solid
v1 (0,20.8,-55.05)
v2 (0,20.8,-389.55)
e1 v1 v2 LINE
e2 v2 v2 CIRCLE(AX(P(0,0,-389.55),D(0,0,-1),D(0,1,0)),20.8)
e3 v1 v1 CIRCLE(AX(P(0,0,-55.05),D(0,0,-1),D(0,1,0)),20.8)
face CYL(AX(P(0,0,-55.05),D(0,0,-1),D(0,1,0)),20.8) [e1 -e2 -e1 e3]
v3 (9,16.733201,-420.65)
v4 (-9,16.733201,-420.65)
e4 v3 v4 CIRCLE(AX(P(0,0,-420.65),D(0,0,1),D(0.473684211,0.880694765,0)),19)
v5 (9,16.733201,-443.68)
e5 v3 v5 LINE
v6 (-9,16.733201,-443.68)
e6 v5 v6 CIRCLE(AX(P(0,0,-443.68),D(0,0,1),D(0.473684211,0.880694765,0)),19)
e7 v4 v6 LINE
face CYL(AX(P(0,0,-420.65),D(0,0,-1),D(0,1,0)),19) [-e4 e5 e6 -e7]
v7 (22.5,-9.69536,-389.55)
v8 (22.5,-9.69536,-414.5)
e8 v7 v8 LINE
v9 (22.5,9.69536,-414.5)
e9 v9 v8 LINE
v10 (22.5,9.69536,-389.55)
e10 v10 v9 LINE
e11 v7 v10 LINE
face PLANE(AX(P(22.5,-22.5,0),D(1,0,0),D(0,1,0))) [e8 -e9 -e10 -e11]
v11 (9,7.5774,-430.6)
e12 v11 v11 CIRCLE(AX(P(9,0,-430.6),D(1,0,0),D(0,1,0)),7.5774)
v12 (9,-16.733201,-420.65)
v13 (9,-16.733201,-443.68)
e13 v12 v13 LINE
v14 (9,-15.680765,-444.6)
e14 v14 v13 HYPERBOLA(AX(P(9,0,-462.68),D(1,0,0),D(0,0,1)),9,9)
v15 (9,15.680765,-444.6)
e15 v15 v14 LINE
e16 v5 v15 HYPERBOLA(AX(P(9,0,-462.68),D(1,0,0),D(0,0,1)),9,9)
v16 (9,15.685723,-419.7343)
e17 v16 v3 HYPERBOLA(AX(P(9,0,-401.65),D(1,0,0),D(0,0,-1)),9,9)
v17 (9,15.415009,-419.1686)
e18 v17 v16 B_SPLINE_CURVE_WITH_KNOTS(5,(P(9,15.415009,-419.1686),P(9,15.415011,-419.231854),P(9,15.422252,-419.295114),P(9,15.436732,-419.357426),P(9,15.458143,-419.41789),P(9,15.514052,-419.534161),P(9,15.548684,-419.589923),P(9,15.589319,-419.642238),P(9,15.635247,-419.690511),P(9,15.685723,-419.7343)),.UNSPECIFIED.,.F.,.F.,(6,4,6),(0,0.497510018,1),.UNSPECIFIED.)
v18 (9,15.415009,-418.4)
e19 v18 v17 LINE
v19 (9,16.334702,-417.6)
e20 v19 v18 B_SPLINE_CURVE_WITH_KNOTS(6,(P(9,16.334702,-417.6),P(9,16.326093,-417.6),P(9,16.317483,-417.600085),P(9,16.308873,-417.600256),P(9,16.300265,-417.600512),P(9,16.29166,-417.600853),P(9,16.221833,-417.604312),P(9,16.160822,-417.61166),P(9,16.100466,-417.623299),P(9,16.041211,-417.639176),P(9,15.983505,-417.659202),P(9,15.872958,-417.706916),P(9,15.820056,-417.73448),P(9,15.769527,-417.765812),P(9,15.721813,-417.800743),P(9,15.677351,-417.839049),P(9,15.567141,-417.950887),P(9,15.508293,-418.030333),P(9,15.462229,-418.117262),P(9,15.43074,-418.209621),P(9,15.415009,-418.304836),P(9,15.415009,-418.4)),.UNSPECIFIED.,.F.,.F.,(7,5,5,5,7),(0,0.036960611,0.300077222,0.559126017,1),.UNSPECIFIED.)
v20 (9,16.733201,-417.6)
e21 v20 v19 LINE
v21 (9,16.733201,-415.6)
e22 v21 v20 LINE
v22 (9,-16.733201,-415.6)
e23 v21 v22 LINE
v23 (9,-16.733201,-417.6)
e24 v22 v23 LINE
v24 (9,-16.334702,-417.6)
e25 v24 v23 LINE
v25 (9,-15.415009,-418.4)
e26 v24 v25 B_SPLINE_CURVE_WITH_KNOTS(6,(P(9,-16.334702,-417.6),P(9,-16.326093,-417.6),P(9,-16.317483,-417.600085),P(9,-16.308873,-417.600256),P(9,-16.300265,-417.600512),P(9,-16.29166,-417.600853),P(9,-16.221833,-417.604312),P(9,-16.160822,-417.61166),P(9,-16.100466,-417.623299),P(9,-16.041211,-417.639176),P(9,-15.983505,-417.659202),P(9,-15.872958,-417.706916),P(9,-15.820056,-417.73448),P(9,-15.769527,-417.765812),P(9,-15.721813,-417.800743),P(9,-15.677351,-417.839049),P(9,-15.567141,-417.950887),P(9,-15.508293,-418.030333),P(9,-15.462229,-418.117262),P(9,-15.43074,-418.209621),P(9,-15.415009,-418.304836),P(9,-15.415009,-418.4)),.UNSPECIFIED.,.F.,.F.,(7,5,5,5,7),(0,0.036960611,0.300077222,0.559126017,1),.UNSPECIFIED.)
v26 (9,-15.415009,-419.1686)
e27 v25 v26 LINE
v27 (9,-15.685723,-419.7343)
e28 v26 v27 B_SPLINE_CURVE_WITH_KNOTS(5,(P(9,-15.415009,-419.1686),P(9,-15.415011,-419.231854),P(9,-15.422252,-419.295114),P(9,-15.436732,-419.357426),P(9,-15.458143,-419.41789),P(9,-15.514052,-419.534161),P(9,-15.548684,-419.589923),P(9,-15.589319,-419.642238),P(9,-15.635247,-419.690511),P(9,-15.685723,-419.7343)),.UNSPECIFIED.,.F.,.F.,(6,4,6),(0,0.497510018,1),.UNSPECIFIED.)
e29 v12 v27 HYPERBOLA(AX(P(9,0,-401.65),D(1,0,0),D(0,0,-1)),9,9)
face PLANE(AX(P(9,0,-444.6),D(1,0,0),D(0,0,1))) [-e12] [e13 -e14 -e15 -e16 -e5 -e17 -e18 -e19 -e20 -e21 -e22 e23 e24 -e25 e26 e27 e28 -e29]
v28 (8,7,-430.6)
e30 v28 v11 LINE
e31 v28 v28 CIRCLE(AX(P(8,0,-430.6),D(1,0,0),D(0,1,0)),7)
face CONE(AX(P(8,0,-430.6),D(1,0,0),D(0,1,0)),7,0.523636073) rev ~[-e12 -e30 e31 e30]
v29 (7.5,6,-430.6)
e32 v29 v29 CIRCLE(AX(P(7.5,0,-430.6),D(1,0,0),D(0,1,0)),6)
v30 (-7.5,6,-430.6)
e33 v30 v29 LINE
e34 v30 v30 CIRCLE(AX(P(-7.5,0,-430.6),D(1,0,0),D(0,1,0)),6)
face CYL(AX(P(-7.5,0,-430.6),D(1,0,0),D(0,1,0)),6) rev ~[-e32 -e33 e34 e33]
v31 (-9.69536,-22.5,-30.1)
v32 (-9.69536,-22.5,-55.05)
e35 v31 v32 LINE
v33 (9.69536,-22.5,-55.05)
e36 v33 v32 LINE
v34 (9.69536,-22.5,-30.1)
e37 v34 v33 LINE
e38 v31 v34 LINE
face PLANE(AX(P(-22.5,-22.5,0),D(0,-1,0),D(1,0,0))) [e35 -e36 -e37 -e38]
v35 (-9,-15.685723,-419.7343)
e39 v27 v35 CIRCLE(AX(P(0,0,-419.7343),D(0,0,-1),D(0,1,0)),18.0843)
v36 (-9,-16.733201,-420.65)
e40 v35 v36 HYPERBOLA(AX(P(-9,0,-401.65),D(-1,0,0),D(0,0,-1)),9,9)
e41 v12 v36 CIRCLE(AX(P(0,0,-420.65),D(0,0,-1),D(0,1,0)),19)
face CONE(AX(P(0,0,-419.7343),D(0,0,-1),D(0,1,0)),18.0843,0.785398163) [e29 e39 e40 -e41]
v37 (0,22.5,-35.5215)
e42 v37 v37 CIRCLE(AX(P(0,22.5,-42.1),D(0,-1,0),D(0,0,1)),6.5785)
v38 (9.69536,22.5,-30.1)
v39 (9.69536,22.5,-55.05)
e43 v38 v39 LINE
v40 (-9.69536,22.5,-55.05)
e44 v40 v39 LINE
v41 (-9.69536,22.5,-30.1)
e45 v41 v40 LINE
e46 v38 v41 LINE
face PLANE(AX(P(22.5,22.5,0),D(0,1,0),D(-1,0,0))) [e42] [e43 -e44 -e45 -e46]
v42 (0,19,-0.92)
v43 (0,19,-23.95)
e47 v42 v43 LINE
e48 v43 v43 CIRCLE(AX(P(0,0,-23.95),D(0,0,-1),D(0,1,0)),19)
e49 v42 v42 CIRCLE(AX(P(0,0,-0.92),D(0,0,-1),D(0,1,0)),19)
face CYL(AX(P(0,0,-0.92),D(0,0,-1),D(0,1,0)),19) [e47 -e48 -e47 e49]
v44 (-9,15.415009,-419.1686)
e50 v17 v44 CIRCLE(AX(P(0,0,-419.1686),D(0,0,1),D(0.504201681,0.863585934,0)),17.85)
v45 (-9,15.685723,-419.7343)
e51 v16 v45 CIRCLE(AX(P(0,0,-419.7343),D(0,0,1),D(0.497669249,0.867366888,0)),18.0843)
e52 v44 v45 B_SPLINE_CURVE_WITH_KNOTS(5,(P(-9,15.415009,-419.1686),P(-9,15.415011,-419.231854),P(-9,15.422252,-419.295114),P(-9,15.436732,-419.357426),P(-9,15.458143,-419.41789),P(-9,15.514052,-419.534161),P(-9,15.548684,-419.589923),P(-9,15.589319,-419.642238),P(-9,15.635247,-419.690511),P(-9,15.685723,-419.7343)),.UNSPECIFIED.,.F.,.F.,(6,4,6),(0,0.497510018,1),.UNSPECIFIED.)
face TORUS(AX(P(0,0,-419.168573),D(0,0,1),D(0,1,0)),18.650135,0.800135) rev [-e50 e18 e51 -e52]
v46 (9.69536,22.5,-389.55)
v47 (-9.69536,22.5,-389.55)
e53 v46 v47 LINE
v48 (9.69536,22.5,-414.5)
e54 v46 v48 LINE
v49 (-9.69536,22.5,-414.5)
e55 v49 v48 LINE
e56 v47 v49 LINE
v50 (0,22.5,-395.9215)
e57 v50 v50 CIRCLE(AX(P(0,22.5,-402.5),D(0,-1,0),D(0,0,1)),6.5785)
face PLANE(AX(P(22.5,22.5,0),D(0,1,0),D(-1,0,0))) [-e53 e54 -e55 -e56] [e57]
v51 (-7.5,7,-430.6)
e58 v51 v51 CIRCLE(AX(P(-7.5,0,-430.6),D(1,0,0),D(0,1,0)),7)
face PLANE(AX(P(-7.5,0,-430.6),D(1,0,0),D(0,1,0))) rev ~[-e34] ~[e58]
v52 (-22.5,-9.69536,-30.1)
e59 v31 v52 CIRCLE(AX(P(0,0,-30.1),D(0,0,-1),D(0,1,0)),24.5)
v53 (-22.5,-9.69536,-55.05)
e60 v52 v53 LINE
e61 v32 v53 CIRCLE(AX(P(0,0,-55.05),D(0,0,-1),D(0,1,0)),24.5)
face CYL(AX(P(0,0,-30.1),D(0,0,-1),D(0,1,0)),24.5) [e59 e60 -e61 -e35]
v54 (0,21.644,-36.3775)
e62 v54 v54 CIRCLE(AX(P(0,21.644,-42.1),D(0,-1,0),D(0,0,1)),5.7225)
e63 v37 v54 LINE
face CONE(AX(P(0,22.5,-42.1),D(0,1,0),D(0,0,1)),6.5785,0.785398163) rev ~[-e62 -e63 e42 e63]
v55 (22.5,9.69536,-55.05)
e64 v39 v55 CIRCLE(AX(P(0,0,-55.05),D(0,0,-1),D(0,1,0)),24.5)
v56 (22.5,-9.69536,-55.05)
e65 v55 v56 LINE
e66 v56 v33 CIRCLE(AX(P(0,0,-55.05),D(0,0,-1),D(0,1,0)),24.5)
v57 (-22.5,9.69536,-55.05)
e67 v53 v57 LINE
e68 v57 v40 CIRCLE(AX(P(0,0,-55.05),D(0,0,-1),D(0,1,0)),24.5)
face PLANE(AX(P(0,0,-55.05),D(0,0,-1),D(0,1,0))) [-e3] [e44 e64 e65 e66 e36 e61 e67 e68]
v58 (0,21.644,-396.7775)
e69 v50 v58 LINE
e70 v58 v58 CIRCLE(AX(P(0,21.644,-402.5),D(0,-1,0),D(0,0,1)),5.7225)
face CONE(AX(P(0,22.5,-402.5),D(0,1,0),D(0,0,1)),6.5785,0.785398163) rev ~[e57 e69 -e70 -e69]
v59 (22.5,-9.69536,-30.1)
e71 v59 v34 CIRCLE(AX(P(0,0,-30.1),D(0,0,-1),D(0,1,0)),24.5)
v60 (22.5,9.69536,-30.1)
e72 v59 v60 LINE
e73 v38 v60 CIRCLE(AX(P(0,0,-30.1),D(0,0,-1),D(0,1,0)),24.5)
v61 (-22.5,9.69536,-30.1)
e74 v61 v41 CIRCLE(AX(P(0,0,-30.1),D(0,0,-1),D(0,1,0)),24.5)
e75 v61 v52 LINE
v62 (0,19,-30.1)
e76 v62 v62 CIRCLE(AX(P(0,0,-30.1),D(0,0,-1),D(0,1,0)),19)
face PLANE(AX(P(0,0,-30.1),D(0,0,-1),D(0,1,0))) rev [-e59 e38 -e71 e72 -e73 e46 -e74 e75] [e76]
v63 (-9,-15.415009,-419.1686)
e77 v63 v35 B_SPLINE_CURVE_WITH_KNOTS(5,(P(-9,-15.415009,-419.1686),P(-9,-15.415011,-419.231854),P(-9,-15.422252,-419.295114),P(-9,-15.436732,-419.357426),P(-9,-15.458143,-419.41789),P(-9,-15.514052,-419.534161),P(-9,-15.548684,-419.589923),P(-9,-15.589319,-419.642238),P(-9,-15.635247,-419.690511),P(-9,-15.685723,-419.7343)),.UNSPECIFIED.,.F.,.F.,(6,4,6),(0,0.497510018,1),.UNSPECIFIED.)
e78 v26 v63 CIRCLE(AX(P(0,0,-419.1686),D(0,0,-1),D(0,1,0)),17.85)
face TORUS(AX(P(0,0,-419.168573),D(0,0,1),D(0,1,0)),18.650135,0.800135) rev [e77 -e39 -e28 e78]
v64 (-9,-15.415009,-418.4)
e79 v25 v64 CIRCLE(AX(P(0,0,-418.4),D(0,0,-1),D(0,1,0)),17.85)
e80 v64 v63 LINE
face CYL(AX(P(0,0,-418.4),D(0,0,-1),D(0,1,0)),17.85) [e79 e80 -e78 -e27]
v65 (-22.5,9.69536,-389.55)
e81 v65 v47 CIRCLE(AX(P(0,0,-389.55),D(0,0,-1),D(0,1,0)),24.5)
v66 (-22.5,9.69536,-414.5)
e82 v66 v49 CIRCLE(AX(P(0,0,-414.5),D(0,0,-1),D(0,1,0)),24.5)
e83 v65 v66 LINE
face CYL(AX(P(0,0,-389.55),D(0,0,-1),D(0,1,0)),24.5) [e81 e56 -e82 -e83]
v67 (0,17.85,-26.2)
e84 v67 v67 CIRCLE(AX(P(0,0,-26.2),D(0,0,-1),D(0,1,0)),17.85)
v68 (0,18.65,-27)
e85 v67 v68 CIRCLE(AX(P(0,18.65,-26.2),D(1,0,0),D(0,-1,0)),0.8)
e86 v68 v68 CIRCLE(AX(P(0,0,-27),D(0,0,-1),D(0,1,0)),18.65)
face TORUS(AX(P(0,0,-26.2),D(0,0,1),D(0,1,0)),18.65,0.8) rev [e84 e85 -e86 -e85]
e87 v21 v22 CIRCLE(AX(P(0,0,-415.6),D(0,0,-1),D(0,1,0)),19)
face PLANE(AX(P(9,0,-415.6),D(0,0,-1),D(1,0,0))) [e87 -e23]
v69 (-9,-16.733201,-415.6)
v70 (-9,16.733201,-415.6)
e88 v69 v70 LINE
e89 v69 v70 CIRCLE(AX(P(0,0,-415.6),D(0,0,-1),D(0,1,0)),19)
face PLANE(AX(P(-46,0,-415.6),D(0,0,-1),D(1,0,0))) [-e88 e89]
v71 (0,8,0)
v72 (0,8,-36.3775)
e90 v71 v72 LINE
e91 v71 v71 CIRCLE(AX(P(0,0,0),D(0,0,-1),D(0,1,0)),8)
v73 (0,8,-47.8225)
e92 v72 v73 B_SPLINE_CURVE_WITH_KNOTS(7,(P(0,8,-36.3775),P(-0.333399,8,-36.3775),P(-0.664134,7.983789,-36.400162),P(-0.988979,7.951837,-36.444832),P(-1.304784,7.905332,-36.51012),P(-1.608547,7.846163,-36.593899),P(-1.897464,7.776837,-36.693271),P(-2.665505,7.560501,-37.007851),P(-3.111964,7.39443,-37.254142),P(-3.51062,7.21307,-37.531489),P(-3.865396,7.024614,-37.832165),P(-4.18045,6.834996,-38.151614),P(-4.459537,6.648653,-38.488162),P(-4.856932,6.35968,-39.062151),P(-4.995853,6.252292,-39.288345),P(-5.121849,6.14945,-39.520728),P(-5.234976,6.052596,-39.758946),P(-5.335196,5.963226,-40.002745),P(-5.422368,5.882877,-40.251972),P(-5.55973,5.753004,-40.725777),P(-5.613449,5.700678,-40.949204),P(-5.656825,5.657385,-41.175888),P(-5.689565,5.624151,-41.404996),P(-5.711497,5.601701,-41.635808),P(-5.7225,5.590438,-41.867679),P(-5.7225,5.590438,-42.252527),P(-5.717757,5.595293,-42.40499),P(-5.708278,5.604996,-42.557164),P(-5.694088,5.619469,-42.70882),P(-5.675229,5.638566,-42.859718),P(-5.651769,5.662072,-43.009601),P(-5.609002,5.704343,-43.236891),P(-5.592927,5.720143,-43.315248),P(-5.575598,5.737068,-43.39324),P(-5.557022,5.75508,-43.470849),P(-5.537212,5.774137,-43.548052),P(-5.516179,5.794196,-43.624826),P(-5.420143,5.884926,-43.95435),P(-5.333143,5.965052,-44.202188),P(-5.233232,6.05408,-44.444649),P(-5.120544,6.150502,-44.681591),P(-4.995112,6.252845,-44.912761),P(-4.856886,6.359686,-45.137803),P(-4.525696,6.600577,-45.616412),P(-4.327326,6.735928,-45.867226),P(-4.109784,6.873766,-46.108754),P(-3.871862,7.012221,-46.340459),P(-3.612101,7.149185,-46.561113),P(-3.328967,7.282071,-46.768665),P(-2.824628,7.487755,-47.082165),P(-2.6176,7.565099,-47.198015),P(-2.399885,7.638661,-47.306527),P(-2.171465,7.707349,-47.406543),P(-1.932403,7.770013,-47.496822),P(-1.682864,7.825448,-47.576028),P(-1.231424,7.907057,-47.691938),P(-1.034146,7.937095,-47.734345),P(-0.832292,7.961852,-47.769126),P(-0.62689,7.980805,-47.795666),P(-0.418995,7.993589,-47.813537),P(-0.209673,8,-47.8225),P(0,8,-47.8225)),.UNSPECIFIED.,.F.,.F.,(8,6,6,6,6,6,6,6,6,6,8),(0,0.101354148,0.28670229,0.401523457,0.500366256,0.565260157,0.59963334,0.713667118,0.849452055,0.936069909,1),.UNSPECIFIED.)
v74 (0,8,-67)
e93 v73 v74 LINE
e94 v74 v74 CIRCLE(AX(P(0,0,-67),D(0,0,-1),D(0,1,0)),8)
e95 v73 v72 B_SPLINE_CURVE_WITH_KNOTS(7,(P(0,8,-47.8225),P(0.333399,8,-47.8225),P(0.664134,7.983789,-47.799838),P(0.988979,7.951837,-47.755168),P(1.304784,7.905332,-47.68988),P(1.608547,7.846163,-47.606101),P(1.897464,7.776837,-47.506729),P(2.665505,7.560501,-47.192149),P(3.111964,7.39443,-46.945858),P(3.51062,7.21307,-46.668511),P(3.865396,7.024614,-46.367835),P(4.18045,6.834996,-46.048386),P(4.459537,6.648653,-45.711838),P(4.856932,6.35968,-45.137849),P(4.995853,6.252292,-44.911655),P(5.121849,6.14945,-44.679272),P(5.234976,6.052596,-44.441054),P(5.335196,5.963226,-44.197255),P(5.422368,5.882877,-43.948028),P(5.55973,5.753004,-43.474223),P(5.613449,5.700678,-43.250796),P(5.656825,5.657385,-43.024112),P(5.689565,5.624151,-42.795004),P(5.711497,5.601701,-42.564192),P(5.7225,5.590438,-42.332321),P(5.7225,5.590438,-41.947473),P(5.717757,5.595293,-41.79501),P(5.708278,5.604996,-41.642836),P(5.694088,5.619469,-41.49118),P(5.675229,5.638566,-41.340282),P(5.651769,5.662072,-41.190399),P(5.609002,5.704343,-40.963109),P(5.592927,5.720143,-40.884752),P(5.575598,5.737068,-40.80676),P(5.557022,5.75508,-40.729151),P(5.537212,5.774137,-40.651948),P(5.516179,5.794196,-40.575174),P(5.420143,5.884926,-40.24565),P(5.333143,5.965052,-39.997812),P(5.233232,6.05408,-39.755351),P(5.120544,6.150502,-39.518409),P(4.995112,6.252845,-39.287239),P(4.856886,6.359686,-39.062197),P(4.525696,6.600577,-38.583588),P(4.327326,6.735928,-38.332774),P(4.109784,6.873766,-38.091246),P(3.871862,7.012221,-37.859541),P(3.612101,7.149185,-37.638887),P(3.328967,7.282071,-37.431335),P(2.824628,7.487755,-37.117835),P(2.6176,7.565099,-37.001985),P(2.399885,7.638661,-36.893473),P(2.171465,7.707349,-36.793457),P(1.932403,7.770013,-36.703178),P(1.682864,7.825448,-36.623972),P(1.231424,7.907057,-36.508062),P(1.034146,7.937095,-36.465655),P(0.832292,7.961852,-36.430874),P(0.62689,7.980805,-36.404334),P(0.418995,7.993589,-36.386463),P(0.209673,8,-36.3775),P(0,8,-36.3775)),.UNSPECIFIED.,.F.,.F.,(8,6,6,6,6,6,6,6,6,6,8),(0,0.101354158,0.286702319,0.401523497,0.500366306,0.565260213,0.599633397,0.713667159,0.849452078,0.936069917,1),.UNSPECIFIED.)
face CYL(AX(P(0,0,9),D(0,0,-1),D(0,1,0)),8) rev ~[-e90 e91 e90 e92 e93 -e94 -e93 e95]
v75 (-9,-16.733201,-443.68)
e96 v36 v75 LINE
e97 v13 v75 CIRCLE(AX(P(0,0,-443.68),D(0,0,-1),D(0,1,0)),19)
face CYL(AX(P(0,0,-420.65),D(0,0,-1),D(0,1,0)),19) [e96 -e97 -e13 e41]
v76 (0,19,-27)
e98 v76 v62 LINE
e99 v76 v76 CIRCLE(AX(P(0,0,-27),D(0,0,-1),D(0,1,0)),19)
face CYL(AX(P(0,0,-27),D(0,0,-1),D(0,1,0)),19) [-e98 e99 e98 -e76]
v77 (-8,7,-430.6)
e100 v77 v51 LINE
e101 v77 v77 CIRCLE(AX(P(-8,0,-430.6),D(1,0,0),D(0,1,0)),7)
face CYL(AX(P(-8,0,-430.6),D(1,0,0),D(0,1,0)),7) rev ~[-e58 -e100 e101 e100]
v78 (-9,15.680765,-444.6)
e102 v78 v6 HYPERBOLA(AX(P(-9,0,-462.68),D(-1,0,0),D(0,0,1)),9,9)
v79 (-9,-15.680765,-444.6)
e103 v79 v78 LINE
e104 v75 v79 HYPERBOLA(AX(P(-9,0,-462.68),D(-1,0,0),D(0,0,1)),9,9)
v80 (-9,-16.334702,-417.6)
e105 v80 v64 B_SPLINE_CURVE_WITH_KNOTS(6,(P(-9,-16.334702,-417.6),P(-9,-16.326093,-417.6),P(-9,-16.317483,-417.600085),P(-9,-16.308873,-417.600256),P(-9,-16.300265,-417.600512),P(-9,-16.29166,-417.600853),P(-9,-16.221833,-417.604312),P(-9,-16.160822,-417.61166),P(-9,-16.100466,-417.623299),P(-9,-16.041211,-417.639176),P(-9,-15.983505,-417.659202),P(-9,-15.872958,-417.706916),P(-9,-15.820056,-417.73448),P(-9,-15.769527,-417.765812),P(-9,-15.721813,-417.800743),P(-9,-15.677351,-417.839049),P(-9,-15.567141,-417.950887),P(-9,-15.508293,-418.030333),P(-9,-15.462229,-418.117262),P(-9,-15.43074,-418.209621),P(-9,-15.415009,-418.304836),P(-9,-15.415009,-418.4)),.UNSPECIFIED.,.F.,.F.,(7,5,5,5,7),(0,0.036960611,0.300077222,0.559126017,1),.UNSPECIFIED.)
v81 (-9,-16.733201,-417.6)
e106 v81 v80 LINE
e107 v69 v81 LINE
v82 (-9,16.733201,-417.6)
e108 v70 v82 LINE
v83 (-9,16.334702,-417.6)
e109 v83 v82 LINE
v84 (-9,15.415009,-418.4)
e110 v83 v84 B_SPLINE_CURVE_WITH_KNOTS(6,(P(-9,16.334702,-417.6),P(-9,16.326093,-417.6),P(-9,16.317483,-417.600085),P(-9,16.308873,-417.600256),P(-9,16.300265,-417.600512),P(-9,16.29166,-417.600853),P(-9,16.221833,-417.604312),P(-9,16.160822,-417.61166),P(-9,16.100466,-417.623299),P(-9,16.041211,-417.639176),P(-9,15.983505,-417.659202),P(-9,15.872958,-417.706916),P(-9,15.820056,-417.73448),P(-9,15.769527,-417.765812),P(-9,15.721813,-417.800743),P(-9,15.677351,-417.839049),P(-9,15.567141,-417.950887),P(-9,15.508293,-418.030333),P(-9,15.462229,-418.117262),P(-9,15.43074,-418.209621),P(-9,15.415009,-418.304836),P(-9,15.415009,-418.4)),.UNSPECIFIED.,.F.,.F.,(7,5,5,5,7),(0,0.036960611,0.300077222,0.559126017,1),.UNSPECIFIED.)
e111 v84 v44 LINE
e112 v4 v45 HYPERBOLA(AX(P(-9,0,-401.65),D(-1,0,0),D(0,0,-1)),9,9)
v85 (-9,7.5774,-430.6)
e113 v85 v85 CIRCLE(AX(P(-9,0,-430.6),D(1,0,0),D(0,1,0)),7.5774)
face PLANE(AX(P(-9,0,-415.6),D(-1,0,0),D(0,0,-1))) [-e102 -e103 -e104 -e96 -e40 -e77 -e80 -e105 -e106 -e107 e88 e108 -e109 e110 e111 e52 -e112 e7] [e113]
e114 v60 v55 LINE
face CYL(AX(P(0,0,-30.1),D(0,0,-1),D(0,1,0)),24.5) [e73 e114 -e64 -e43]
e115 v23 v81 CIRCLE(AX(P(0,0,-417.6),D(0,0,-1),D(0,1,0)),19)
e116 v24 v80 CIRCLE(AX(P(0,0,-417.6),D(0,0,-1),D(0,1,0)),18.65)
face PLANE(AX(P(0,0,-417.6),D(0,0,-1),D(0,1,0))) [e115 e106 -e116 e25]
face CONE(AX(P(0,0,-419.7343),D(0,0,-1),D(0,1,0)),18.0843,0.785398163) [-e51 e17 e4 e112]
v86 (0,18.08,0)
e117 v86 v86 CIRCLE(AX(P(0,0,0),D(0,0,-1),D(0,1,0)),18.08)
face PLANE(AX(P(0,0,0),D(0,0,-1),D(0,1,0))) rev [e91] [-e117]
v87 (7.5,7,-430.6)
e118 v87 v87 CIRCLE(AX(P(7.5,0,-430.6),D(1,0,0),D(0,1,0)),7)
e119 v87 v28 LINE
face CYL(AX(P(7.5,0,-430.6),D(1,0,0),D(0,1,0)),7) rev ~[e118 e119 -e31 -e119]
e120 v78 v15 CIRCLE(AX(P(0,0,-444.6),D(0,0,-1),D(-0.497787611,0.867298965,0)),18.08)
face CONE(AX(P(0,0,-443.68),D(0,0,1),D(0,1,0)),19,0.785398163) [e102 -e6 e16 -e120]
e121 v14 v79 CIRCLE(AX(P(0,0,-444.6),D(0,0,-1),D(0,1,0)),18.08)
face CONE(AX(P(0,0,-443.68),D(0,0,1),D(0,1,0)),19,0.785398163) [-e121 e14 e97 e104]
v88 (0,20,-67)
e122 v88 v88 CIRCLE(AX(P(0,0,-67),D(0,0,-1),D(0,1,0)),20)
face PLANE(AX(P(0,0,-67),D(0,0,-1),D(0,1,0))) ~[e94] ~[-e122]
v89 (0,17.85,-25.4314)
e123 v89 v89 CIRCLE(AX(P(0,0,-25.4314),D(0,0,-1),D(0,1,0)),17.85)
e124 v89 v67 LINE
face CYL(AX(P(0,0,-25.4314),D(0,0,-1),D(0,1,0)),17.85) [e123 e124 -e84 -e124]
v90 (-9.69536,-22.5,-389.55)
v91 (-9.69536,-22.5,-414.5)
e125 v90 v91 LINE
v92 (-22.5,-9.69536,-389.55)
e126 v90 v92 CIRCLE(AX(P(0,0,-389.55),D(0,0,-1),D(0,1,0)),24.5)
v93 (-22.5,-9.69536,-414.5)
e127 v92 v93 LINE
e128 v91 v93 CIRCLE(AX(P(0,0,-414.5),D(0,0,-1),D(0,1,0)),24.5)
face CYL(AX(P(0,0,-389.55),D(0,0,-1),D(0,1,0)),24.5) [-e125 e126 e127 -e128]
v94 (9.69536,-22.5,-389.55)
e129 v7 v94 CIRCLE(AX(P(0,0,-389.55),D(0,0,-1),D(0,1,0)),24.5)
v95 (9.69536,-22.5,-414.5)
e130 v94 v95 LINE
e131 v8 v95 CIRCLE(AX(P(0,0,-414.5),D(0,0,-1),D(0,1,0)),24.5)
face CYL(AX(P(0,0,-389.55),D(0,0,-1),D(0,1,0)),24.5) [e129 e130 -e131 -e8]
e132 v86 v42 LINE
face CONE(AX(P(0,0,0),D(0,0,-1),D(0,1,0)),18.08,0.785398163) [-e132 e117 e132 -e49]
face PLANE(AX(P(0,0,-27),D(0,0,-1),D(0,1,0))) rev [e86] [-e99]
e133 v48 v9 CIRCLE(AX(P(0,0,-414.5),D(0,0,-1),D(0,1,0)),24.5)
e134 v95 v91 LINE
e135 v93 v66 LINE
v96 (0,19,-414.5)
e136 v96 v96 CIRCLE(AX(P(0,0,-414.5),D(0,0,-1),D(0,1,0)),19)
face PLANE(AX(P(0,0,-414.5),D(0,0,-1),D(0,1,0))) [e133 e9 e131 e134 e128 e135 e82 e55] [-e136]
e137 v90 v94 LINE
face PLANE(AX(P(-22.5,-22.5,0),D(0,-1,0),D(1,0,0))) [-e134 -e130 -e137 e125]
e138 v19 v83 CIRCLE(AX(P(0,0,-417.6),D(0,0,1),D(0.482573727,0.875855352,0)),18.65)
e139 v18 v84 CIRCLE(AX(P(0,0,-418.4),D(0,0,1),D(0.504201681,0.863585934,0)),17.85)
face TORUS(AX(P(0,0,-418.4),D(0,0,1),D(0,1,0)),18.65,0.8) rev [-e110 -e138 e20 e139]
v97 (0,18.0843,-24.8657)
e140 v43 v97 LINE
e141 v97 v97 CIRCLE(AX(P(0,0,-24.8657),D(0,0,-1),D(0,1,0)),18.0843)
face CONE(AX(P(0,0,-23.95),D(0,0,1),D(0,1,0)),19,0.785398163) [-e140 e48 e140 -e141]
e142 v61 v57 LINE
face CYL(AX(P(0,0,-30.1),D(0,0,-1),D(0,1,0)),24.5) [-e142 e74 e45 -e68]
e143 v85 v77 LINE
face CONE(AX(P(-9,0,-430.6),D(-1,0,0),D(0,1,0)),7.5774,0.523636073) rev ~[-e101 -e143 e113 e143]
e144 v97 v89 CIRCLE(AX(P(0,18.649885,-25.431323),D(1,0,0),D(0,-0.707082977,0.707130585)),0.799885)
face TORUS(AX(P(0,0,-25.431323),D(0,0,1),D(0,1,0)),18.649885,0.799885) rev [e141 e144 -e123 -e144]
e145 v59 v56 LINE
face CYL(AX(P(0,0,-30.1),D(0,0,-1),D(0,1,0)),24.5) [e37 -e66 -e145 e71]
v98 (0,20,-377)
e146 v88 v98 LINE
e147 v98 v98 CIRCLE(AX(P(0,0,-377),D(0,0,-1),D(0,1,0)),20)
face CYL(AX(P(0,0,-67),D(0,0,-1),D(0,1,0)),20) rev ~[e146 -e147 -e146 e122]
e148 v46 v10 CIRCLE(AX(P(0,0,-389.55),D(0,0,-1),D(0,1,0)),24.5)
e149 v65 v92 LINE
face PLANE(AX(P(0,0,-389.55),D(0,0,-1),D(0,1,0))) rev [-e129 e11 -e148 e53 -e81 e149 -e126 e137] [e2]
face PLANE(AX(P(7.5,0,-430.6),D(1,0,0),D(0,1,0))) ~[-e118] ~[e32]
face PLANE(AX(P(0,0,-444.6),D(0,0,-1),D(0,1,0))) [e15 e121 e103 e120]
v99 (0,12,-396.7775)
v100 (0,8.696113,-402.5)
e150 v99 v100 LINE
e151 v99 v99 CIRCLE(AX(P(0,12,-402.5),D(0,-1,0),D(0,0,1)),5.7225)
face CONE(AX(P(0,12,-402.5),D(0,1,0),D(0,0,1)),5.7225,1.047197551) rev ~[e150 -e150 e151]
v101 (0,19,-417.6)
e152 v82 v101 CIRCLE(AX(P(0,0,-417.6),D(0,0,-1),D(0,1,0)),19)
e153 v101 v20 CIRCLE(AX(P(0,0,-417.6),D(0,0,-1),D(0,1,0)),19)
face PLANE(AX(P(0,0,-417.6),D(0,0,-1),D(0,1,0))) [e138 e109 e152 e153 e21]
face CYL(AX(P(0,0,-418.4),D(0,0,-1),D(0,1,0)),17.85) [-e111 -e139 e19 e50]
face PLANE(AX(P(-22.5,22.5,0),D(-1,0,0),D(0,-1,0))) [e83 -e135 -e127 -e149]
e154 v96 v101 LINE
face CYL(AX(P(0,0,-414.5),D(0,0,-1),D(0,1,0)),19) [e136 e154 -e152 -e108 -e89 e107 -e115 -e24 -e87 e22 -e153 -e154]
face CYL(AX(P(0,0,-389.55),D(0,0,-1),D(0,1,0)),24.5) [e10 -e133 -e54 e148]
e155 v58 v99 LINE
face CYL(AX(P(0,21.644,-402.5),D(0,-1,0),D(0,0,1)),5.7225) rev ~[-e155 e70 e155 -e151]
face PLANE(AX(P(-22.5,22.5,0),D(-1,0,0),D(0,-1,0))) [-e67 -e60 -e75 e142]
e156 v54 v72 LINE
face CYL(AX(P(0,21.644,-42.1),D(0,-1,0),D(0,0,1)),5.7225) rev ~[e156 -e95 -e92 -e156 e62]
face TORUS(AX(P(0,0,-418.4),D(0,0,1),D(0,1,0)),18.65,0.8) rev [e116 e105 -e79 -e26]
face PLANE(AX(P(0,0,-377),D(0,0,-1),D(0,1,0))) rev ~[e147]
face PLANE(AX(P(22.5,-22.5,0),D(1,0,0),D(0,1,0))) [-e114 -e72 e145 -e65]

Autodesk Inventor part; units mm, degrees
sketch "Sketch_12" plane through (0, 0, 0) normal (1, 0, 0) x (0, 1, 0)
  line L0 (0, -444.6) -> (0, 0)
  line L1 (0, 0) -> (18.08, 0)
  line L2 (18.08, 0) -> (19, -0.92)
  line L3 (19, -0.92) -> (19, -23.95)
  line L4 (19, -23.95) -> (18.0843, -24.8657)
  arc A0 (18.0843, -24.8657) -> (17.85, -25.4314) centre (18.65, -25.4314) ccw
  line L5 (17.85, -25.4314) -> (17.85, -26.2)
  arc A1 (17.85, -26.2) -> (18.65, -27) centre (18.65, -26.2) ccw
  line L6 (18.65, -27) -> (19, -27)
  line L7 (19, -27) -> (19, -30.1)
  line L8 (19, -30.1) -> (24.5, -30.1)
  line L9 (24.5, -30.1) -> (24.5, -55.05)
  line L10 (24.5, -55.05) -> (20.8, -55.05)
  line L11 (20.8, -55.05) -> (20.8, -389.55)
  line L12 (20.8, -389.55) -> (24.5, -389.55)
  line L13 (24.5, -389.55) -> (24.5, -414.5)
  line L14 (24.5, -414.5) -> (19, -414.5)
  line L15 (19, -414.5) -> (19, -417.6)
  line L16 (19, -417.6) -> (18.65, -417.6)
  arc A2 (18.65, -417.6) -> (17.85, -418.4) centre (18.65, -418.4) ccw
  line L17 (17.85, -418.4) -> (17.85, -419.1686)
  arc A3 (17.85, -419.1686) -> (18.0843, -419.7343) centre (18.65, -419.1686) ccw
  line L18 (18.0843, -419.7343) -> (19, -420.65)
  line L19 (19, -420.65) -> (19, -443.68)
  line L20 (19, -443.68) -> (18.08, -444.6)
  line L21 (18.08, -444.6) -> (0, -444.6)
  line L22 (0, -444.6) -> (0, 0)
revolve "Revolution1" add sketch "Sketch_12" angle 360 about axis through (0, 0, -444.6) along (0, 0, -1)
thread "Thread1" size "M38x1.5" class "6g" standard "ISO Metric profile" full length
thread "Thread2" size "M38x1.5" class "6g" standard "ISO Metric profile" full length
sketch "Sketch_1" plane through (0, 0, 0) normal (0, 0, 1) x (1, 0, 0)
  line L0 (-45, 45) -> (-45, -45)
  line L1 (-45, -45) -> (45, -45)
  line L2 (45, -45) -> (45, 45)
  line L3 (45, 45) -> (-45, 45)
  line L4 (-22.5, 22.5) -> (-22.5, -22.5)
  line L5 (-22.5, -22.5) -> (22.5, -22.5)
  line L6 (22.5, -22.5) -> (22.5, 22.5)
  line L7 (22.5, 22.5) -> (-22.5, 22.5)
extrude "Extrusion1" cut sketch "Sketch_1" against normal blind 453.6
sketch "Sketch_124" plane through (0, 0, 0) normal (0, 1, 0) x (-1, 0, 0)
  line L0 (46, -415.6) -> (9, -415.6)
  line L1 (9, -415.6) -> (9, -444.6)
  line L2 (9, -444.6) -> (-9, -444.6)
  line L3 (-9, -444.6) -> (-9, -415.6)
  line L4 (-9, -415.6) -> (-46, -415.6)
  line L5 (-46, -415.6) -> (-46, -449.6)
  line L6 (-46, -449.6) -> (46, -449.6)
  line L7 (46, -449.6) -> (46, -415.6)
extrude "Extrusion2" cut sketch "Sketch_124" along normal mid plane 46
sketch "Sketch_3" plane through (0, 0, -430.6) normal (0, 0, 1) x (1, 0, 0)
  line L0 (9, 0) -> (-9, 0)
  line L1 (-9, 0) -> (-9, 7.5774)
  line L2 (-9, 7.5774) -> (-8, 7)
  line L3 (-8, 7) -> (-7.5, 7)
  line L4 (-7.5, 7) -> (-7.5, 6)
  line L5 (-7.5, 6) -> (7.5, 6)
  line L6 (7.5, 6) -> (7.5, 7)
  line L7 (7.5, 7) -> (8, 7)
  line L8 (8, 7) -> (9, 7.5774)
  line L9 (9, 7.5774) -> (9, 0)
  line L10 (9, 0) -> (-9, 0)
revolve "Revolution2" cut sketch "Sketch_3" angle 360 about axis through (9, 0, -430.6) along (1, 0, 0)
sketch "Sketch5" plane through (-9.6954, 22.5, -30.1) normal (0, 1, 0) x (1, 0, 0)
  point P0 (9.6954, 12)
hole "Hole1" at (0, 22.5, -42.1) direction (0, -1, 0) diameter 11.445 depth 22.5 countersink diameter 13.157 countersink angle 90 thread size "G13.157x1.337" designation "G 1/4" standard "ISO Pipe Threads"
sketch "Sketch6" plane through (-9.6954, 22.5, -389.55) normal (0, 1, 0) x (1, 0, 0)
  point P0 (9.6954, 12.95)
hole "Hole2" at (0, 22.5, -402.5) direction (0, -1, 0) diameter 11.445 depth 10.5 tip angle 120 countersink diameter 13.157 countersink angle 90 thread size "G13.157x1.337" designation "G 1/4" standard "ISO Pipe Threads"
sketch "Sketch_129" plane through (0, 0, 0) normal (1, 0, 0) x (0, 1, 0)
  line L0 (0, -377) -> (0, 9)
  line L1 (0, 9) -> (8, 9)
  line L2 (8, 9) -> (8, -67)
  line L3 (8, -67) -> (20, -67)
  line L4 (20, -67) -> (20, -377)
  line L5 (20, -377) -> (0, -377)
  line L6 (0, -377) -> (0, 9)
revolve "Revolution3" cut sketch "Sketch_129" angle 360 about axis through (0, 0, -377) along (0, 0, -1)
ref_plane "FDT_FRONT_XY" through (0, 0, -30.1) normal (0, 0, -1) x (1, 0, 0)
ref_plane "FDT_FRONT_YZ" through (0, 0, -30.1) normal (1, 0, 0) x (0, -1, 0)
ref_plane "FDT_FRONT_ZX" through (0, 0, -30.1) normal (0, -1, 0) x (0, 0, -1)
ref_plane "FDT_QSFRONT_XY" through (0, 22.5, -42.1) normal (0, 1, 0) x (0, 0, 1)
ref_plane "FDT_QSFRONT_YZ" through (0, 22.5, -42.1) normal (0, 0, 1) x (1, 0, 0)
ref_plane "FDT_QSFRONT_ZX" through (0, 22.5, -42.1) normal (1, 0, 0) x (0, 1, 0)
ref_plane "FDT_QSREAR_XY" through (0, 22.5, -402.5) normal (0, 1, 0) x (0, 0, 1)
ref_plane "FDT_QSREAR_YZ" through (0, 22.5, -402.5) normal (0, 0, 1) x (1, 0, 0)
ref_plane "FDT_QSREAR_ZX" through (0, 22.5, -402.5) normal (1, 0, 0) x (0, 1, 0)
ref_plane "FDT_REAR_XY" through (0, 0, -414.5) normal (0, 0, 1) x (1, 0, 0)
ref_plane "FDT_REAR_YZ" through (0, 0, -414.5) normal (1, 0, 0) x (0, 1, 0)
ref_plane "FDT_REAR_ZX" through (0, 0, -414.5) normal (0, 1, 0) x (0, 0, 1)
ref_plane "FDT_SMBR1_XY" through (0, 0, -64.5) normal (0, 0, 1) x (-1, 0, 0)
ref_plane "FDT_SMBR1_YZ" through (0, 0, -64.5) normal (-1, 0, 0) x (0, -1, 0)
ref_plane "FDT_SMBR1_ZX" through (0, 0, -64.5) normal (0, -1, 0) x (0, 0, 1)
ref_plane "FDT_SMBR2_XY" through (0, 0, -380.1) normal (0, 0, 1) x (-1, 0, 0)
ref_plane "FDT_SMBR2_YZ" through (0, 0, -380.1) normal (-1, 0, 0) x (0, -1, 0)
ref_plane "FDT_SMBR2_ZX" through (0, 0, -380.1) normal (0, -1, 0) x (0, 0, 1)
ref_plane "FDT_SWIVELAXIS_XY" through (0, 0, -430.6) normal (1, 0, 0) x (0, 0, -1)
ref_plane "FDT_SWIVELAXIS_YZ" through (0, 0, -430.6) normal (0, 0, -1) x (0, 1, 0)
ref_plane "FDT_SWIVELAXIS_ZX" through (0, 0, -430.6) normal (0, 1, 0) x (1, 0, 0)
ref_plane "NUT_XY" through (0, 0, -8.5) normal (0, 0, -1) x (1, 0, 0)
ref_plane "NUT_YZ" through (0, 0, -8.5) normal (1, 0, 0) x (0, -1, 0)
ref_plane "NUT_ZX" through (0, 0, -8.5) normal (0, -1, 0) x (0, 0, -1)
ref_plane "ZR_XY" through (0, 0, 0) normal (0, 0, -1) x (-1, 0, 0)
ref_plane "ZR_YZ" through (0, 0, 0) normal (-1, 0, 0) x (0, 1, 0)
ref_plane "ZR_ZX" through (0, 0, 0) normal (0, 1, 0) x (0, 0, -1)
ref_plane "ZYL_XY" through (0, 0, -30.1) normal (0, 0, -1) x (1, 0, 0)
ref_plane "ZYL_YZ" through (0, 0, -30.1) normal (1, 0, 0) x (0, -1, 0)
ref_plane "ZYL_ZX" through (0, 0, -30.1) normal (0, -1, 0) x (0, 0, -1)
properties part number "193993 DSNU-40-300-P---(A----0-ZR)"
